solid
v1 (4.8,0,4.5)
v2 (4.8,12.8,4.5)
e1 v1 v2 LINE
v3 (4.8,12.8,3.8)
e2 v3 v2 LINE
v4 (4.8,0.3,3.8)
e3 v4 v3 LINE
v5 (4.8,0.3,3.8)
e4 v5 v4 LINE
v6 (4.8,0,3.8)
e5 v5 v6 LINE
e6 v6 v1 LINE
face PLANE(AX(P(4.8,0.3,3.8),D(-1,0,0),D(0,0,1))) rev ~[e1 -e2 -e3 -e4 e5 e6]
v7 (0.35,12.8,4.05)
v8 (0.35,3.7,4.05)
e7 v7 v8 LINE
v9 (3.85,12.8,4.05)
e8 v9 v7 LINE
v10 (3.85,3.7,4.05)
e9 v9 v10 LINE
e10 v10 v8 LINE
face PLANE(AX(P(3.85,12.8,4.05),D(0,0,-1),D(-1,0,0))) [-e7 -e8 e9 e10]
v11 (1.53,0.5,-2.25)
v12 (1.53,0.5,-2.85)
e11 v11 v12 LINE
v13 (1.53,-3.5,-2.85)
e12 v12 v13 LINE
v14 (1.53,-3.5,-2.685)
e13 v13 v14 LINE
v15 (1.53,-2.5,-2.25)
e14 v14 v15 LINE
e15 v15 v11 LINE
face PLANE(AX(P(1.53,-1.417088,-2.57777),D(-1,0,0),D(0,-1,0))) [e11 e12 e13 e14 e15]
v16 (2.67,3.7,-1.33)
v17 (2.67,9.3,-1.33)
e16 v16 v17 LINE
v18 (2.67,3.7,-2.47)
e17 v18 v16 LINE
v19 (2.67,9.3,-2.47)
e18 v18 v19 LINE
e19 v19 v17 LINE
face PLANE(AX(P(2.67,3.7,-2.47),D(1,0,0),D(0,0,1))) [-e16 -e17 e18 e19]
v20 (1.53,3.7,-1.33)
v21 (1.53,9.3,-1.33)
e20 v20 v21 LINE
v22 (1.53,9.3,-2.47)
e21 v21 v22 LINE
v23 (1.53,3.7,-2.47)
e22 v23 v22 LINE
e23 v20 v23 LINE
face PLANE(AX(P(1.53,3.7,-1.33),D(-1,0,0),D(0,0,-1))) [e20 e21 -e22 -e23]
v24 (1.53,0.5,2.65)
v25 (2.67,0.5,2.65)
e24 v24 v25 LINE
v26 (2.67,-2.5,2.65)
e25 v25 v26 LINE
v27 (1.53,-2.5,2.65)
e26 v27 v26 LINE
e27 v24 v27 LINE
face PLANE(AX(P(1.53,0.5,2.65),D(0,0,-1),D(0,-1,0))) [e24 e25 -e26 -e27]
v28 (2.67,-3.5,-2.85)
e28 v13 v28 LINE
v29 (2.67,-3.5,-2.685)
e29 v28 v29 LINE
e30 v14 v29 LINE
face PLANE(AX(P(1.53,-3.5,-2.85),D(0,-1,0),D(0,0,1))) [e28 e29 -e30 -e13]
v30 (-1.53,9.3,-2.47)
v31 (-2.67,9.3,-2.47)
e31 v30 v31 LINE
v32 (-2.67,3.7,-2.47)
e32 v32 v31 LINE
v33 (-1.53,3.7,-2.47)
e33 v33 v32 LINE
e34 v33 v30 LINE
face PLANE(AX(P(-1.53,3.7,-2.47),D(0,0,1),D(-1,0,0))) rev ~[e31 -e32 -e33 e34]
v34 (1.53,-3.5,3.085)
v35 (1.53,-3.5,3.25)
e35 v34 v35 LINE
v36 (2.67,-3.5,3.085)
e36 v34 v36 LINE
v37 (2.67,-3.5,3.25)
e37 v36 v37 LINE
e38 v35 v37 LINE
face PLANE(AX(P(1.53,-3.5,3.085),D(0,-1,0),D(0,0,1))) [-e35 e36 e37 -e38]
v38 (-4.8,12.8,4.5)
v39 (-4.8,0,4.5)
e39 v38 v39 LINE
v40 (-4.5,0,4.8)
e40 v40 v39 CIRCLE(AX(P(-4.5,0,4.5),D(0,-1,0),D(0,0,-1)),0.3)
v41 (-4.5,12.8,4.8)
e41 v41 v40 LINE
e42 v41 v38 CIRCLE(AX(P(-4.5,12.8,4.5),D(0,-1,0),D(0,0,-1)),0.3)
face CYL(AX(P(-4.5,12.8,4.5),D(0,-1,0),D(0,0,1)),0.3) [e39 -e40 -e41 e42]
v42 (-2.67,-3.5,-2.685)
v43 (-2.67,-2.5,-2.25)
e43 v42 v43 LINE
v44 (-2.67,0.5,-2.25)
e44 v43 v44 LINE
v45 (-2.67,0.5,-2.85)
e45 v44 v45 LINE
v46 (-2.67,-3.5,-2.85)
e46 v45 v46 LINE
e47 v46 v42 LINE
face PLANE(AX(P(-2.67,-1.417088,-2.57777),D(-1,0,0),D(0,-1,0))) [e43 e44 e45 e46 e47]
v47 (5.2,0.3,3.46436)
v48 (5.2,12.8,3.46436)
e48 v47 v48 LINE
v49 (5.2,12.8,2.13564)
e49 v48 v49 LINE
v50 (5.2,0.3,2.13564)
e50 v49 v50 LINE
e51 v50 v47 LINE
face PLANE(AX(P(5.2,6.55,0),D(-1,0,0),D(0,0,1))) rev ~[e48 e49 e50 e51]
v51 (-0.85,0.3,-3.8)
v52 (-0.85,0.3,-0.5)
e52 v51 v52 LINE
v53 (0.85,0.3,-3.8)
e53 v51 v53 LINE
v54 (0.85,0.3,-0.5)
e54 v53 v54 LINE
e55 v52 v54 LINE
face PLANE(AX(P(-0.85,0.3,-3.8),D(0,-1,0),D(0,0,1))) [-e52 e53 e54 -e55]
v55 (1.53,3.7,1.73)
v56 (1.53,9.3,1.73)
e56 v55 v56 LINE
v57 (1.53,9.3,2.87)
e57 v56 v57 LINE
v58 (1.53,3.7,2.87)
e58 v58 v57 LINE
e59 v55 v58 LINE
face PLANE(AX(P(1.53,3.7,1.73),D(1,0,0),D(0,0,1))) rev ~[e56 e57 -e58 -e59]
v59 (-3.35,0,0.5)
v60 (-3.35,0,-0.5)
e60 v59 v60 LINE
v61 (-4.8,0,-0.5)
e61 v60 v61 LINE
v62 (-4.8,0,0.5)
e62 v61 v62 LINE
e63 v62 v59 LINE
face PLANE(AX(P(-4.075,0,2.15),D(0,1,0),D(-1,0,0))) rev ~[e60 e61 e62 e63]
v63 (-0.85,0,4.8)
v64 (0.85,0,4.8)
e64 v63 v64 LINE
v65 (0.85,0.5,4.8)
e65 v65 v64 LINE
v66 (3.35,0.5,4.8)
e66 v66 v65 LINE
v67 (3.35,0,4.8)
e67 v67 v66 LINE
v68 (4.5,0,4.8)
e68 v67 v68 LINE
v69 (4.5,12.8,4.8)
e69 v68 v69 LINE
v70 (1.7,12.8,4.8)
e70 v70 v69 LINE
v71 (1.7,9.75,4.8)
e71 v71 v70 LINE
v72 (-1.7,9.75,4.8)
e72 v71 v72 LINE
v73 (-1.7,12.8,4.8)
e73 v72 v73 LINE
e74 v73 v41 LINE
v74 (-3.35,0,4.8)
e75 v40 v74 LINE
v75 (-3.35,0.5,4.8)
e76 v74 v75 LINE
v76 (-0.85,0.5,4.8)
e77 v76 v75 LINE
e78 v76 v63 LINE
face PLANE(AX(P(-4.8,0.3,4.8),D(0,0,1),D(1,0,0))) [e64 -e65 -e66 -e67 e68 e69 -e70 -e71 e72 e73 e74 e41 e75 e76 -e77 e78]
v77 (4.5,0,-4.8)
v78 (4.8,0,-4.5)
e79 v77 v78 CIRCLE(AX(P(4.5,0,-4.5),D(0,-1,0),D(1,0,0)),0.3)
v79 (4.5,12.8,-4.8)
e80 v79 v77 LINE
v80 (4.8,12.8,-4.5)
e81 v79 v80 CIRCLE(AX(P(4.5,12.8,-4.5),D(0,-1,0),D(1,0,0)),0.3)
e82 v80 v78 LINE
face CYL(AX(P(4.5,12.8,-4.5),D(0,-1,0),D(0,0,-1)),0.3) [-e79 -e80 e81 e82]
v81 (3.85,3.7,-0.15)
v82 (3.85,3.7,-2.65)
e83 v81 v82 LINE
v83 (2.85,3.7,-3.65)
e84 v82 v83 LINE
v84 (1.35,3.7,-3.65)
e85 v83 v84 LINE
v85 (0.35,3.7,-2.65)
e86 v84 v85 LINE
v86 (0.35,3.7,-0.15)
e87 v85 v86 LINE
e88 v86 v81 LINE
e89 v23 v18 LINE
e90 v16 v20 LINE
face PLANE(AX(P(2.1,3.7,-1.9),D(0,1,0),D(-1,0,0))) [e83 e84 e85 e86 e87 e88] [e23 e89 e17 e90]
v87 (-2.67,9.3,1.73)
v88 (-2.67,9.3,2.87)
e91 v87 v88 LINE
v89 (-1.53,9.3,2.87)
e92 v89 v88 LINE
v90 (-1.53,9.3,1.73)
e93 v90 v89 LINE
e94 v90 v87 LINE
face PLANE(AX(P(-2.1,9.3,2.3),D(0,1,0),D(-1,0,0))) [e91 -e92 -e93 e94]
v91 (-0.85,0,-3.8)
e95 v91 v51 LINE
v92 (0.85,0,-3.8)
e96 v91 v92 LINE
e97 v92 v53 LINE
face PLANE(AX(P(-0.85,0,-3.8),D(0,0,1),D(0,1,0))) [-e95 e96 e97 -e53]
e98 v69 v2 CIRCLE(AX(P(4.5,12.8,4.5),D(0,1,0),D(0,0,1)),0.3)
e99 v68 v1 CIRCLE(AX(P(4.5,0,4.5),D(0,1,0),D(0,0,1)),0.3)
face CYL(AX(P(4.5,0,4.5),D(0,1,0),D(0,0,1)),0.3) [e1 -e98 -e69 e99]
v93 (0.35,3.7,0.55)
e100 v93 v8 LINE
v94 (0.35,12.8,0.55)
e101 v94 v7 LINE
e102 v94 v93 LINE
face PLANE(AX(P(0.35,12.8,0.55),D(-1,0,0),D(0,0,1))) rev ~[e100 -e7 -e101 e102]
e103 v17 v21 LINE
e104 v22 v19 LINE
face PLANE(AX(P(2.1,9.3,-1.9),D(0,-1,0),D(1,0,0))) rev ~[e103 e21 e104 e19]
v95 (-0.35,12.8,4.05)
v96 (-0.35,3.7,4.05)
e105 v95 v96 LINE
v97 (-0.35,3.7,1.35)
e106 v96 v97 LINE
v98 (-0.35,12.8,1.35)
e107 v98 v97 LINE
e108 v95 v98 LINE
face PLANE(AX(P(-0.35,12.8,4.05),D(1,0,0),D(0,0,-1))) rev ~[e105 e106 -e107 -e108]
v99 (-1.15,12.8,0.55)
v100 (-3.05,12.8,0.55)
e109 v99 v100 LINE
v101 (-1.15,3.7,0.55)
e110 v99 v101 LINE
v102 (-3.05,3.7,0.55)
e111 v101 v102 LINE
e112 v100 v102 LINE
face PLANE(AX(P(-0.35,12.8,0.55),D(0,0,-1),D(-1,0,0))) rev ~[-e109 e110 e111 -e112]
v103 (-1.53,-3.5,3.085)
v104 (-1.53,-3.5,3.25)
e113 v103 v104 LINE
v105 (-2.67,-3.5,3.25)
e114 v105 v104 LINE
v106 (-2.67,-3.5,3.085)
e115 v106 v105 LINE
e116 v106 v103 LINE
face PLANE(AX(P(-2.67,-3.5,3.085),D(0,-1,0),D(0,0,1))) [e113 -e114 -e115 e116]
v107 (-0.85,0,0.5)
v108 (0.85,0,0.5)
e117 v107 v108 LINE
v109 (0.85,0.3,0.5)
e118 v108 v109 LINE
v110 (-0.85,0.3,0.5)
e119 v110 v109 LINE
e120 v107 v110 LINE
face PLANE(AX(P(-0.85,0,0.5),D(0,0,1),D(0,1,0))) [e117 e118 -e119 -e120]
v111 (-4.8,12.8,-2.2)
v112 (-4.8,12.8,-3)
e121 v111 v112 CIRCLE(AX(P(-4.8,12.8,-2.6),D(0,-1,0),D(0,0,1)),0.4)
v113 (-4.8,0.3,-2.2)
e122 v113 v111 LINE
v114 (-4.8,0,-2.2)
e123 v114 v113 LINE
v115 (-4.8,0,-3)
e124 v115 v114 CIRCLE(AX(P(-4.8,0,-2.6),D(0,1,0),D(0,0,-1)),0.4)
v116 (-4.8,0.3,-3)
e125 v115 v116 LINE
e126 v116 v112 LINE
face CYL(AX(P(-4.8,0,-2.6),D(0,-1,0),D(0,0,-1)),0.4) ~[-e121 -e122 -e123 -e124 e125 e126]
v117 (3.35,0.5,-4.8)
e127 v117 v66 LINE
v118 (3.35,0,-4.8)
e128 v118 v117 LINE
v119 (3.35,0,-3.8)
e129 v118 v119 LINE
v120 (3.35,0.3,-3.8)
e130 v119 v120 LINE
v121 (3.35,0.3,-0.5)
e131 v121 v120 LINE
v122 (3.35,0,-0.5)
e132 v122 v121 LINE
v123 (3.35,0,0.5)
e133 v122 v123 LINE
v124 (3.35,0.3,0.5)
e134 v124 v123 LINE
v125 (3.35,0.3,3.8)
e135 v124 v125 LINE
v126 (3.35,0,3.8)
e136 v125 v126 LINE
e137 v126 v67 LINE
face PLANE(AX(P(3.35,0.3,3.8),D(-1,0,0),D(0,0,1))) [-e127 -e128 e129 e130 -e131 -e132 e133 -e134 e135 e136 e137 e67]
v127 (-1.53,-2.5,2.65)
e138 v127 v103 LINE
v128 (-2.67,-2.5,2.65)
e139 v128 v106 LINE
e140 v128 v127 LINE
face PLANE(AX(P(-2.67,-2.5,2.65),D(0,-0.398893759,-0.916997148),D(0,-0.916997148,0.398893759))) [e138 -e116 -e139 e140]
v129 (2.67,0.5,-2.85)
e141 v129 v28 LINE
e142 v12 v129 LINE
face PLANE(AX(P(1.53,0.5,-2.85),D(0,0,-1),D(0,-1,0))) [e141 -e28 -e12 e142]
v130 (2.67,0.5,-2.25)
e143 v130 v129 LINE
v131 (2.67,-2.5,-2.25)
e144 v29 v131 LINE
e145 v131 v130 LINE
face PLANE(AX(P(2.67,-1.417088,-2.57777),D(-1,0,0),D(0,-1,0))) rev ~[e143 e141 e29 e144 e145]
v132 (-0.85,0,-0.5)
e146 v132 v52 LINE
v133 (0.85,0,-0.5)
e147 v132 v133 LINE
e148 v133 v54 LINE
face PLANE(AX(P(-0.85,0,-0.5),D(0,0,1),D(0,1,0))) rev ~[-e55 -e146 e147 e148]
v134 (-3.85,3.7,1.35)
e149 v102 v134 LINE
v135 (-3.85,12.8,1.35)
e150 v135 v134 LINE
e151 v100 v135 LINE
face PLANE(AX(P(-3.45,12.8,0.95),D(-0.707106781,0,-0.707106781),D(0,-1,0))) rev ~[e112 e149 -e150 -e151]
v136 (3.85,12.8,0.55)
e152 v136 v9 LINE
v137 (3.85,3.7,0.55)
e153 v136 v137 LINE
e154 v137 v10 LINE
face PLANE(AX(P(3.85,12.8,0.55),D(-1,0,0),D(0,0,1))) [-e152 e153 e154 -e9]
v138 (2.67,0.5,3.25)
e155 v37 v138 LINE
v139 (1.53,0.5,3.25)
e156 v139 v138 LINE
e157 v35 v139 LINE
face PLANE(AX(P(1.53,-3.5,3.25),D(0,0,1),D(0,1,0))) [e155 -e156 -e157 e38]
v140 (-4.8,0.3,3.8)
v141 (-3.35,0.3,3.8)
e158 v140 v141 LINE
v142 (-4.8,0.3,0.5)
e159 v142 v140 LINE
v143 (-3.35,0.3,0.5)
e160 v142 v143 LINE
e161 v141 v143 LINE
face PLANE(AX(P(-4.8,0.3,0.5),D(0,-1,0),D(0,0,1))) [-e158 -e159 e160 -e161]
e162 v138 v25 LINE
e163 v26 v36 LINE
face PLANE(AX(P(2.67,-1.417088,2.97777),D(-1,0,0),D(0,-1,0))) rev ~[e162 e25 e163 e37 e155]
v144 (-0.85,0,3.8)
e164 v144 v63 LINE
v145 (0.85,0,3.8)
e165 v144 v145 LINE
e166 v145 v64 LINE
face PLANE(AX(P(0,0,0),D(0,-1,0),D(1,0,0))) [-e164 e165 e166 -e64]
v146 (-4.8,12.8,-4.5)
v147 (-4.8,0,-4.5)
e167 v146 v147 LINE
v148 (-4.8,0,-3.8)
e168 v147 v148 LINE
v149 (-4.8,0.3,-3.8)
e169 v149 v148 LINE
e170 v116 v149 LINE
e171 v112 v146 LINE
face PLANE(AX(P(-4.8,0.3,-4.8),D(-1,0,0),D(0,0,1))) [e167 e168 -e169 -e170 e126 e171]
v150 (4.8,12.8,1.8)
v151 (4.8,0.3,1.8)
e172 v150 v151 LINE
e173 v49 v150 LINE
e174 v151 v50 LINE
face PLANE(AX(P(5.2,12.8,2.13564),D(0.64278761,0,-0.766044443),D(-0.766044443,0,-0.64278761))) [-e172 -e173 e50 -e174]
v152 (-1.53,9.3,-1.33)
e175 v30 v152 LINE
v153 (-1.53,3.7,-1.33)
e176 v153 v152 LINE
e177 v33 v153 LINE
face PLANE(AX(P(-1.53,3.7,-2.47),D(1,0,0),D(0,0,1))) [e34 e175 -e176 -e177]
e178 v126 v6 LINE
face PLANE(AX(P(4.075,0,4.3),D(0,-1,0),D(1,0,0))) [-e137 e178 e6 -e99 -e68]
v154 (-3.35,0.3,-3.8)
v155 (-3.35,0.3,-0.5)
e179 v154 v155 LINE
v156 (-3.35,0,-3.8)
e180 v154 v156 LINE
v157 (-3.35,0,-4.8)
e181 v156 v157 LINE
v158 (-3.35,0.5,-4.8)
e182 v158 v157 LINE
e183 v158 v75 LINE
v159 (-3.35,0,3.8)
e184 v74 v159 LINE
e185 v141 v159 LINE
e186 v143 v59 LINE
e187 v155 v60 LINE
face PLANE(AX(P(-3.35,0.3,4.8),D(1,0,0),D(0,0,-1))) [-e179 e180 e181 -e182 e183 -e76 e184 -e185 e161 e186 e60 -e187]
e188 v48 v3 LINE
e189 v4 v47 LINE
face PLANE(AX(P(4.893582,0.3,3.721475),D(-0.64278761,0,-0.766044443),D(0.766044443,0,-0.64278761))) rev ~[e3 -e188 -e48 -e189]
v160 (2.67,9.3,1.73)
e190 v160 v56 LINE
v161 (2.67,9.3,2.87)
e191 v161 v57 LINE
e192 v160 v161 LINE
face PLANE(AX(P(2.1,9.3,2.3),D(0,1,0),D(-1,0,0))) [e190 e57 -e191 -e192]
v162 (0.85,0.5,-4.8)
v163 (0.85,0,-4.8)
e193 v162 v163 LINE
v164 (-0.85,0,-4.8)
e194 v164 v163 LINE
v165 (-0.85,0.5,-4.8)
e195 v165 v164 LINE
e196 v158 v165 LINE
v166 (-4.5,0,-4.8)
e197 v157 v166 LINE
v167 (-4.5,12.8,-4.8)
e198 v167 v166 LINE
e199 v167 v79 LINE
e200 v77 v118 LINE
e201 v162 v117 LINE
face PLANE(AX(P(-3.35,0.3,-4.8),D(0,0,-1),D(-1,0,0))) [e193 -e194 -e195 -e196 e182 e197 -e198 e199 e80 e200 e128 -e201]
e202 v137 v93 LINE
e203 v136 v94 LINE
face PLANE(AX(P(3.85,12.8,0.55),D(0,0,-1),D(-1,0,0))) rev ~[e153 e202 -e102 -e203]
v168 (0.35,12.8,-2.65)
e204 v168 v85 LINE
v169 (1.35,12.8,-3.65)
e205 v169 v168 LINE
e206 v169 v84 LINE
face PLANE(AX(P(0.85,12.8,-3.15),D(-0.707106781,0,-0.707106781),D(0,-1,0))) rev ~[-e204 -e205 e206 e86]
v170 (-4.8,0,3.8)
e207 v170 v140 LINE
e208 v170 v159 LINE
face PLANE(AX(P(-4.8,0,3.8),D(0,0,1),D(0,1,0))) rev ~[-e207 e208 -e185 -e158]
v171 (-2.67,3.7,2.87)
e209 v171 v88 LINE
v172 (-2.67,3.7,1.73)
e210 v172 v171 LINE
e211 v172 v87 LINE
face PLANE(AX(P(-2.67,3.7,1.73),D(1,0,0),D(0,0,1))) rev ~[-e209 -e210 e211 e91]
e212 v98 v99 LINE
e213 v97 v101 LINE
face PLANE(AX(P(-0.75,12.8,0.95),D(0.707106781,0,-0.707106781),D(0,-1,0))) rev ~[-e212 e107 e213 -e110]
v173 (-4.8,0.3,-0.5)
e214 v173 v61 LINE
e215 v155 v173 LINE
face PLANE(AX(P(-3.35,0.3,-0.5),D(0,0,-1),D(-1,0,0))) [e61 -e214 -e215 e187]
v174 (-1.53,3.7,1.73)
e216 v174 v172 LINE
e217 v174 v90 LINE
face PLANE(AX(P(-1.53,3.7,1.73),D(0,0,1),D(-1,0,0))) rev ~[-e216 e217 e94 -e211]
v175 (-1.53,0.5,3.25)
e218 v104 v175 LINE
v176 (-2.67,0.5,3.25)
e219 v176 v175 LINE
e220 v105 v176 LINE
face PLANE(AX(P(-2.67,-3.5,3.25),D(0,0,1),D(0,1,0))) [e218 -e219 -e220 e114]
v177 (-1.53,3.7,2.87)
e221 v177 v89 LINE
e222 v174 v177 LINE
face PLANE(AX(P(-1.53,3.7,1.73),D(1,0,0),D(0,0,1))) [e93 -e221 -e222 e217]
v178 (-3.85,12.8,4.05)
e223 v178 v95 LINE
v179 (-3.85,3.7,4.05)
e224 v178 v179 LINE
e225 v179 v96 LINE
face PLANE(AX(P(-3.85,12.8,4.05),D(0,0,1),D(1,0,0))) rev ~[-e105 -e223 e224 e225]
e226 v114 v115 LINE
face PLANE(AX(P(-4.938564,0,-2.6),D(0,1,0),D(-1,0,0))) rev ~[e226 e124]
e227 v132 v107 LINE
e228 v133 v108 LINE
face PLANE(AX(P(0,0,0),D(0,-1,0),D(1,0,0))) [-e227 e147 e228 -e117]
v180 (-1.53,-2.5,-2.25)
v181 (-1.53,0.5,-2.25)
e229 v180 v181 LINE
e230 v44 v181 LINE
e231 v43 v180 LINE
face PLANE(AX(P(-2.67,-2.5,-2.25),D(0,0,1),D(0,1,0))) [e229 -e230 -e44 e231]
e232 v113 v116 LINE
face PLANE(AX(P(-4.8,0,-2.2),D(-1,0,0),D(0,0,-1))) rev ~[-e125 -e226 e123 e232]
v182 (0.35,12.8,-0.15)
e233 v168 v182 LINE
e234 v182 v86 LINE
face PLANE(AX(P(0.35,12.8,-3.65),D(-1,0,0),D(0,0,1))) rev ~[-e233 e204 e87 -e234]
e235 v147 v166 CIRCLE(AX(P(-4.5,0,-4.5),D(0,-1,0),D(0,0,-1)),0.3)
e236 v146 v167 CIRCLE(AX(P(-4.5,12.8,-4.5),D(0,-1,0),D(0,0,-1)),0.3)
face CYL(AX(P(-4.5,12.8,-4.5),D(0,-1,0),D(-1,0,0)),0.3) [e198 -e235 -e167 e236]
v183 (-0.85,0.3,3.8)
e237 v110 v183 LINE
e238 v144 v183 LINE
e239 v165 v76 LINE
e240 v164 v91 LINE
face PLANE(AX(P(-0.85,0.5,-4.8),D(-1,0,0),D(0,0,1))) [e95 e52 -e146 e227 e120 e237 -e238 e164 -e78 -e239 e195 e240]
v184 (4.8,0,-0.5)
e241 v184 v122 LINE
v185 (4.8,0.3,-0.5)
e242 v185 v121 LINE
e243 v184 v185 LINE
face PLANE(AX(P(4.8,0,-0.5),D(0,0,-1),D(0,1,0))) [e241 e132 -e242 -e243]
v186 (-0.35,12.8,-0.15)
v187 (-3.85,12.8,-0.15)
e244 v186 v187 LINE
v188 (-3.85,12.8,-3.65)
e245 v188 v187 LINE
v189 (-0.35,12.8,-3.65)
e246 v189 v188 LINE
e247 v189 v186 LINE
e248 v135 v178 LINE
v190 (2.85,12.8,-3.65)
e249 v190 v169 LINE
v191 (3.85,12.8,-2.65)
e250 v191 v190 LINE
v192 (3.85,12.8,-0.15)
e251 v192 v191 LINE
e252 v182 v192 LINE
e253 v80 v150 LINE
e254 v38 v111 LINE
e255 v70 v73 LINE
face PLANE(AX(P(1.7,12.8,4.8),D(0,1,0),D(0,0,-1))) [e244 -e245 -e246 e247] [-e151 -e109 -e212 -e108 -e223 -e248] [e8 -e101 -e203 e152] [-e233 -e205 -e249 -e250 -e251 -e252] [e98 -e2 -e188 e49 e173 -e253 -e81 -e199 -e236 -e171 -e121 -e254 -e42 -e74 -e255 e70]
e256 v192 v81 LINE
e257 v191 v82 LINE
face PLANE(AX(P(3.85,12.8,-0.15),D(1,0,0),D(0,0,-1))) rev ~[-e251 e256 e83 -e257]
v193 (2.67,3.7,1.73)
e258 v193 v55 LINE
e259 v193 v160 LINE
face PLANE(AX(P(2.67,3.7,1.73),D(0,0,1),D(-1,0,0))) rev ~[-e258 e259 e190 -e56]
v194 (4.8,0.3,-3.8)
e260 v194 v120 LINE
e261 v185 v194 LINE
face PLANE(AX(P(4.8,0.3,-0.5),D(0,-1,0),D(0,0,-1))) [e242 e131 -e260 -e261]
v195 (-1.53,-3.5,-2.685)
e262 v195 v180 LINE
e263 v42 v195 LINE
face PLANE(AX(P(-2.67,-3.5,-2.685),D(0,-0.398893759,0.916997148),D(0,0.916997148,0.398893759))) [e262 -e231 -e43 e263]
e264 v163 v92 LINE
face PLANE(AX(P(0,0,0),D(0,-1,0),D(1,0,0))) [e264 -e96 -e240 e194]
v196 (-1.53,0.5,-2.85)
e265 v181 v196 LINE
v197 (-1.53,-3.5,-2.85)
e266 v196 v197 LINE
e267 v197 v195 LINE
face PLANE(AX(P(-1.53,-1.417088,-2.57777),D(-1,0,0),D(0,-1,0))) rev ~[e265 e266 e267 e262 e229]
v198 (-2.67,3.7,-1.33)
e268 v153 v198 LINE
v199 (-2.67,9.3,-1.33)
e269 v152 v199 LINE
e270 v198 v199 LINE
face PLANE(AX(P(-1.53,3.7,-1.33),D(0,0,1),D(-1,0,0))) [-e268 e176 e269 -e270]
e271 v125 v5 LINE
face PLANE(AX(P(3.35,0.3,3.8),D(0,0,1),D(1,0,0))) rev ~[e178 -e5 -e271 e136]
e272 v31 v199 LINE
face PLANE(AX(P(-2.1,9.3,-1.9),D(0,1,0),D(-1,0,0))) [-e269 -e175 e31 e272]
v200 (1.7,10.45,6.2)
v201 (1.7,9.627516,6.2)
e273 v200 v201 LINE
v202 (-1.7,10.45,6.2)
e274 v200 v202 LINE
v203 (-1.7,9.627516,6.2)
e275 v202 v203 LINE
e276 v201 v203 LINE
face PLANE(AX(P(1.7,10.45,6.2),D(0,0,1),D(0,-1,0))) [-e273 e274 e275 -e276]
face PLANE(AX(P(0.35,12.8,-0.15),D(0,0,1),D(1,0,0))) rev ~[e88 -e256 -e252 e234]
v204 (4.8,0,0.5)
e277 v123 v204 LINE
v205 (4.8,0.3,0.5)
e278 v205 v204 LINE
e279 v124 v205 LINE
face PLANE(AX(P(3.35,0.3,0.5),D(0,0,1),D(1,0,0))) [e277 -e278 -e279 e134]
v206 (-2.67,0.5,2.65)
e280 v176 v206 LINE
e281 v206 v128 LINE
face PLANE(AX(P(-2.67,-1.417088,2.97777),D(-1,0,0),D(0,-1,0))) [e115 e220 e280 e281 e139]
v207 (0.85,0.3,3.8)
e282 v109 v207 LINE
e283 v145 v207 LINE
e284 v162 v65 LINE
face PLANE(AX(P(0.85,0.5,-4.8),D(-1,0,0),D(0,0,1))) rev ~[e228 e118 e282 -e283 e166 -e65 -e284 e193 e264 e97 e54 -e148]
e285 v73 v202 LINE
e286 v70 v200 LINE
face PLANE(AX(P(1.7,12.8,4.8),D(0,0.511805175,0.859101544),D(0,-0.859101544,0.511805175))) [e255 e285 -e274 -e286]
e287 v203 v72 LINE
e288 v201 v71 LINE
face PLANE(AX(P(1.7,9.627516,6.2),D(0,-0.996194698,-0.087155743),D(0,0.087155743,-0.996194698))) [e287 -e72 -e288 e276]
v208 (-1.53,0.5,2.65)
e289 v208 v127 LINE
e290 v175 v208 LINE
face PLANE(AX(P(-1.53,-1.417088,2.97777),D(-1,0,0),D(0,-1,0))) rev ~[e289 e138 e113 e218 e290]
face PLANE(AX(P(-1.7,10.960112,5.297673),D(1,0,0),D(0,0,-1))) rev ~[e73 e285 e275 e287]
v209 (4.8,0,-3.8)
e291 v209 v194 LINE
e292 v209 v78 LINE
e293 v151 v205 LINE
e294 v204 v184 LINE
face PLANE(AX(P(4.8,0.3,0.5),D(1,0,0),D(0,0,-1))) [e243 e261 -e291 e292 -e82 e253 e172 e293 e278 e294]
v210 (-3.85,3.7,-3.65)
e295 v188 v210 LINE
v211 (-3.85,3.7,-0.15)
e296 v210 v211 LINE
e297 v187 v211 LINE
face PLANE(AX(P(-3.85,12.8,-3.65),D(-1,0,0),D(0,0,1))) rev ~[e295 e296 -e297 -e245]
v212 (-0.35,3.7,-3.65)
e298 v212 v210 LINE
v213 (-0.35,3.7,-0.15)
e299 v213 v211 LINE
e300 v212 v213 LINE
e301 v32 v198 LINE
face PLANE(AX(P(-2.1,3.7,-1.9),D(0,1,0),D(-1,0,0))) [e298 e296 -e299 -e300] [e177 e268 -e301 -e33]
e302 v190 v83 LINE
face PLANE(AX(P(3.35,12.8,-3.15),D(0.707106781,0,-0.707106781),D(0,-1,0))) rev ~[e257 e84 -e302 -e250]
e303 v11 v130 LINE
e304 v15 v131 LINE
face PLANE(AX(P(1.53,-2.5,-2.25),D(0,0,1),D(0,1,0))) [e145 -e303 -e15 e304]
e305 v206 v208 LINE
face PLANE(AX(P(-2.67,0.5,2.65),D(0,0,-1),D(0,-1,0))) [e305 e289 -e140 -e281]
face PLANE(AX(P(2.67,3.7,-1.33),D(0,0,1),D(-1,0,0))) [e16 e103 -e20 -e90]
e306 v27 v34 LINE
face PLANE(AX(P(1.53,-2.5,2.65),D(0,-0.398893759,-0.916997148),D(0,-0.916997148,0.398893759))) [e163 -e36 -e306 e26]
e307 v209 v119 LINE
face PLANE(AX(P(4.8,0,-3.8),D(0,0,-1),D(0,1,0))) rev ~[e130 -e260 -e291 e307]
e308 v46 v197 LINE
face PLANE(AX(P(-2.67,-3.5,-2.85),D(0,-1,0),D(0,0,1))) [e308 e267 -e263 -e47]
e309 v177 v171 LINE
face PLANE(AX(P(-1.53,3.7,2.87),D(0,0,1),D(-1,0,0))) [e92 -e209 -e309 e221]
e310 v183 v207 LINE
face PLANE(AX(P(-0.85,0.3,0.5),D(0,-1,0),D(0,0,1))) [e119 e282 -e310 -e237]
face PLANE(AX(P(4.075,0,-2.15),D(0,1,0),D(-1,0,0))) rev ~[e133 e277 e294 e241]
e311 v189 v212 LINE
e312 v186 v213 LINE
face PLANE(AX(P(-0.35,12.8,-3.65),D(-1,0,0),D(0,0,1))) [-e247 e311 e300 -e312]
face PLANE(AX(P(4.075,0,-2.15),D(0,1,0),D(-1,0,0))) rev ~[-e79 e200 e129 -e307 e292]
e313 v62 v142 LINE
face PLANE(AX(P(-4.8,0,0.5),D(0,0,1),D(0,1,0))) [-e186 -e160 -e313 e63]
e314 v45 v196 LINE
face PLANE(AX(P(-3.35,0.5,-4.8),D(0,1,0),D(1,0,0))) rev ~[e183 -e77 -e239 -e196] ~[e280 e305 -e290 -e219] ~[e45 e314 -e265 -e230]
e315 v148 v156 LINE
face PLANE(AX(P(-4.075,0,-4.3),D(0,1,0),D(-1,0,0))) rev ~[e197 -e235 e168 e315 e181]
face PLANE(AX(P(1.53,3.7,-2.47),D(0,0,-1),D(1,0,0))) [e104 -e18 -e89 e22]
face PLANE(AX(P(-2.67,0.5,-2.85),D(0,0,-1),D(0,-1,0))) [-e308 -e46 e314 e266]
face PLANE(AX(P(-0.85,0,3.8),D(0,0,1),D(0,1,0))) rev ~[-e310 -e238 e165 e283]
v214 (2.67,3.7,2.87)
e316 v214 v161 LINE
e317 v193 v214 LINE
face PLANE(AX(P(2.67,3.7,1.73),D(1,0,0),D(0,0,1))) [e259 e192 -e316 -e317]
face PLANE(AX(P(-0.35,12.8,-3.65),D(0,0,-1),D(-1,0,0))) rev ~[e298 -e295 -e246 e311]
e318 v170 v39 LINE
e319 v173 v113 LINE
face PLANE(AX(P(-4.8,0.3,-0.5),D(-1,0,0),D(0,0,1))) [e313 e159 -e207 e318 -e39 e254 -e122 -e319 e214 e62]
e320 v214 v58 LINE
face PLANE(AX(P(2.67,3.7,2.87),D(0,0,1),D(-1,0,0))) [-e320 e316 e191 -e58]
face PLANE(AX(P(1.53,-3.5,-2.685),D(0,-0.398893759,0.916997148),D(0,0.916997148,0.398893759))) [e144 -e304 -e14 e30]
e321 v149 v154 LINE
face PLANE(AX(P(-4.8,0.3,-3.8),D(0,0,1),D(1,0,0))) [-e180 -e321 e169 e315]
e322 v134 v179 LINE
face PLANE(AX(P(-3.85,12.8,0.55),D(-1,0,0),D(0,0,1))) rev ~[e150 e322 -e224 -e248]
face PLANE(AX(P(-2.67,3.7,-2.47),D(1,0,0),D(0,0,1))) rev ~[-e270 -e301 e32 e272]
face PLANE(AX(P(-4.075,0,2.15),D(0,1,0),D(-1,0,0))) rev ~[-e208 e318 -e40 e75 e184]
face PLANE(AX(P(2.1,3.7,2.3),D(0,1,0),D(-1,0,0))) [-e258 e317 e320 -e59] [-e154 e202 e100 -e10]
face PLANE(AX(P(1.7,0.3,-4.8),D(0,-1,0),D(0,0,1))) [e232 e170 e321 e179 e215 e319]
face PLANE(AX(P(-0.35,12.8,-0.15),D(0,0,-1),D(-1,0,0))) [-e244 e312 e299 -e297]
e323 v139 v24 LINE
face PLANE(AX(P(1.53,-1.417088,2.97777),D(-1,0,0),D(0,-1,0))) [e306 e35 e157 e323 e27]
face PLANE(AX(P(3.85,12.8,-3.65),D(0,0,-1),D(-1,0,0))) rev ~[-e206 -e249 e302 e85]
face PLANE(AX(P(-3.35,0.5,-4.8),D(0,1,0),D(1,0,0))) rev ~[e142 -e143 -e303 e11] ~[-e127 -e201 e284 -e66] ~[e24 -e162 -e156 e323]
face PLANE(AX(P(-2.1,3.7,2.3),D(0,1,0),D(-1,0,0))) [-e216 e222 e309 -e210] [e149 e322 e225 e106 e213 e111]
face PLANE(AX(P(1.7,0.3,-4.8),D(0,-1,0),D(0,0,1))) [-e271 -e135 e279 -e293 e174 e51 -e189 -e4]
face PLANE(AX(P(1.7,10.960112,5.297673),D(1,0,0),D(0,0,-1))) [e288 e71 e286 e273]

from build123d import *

# Parameters (mm, degrees)
BOSS_EXTRUDE1_DEPTH  = 12.5
BOSS_EXTRUDE2_DEPTH  = 3.4
BOSS_EXTRUDE3_DEPTH  = 3.5000000000000004
SKETCH4_W            = 0.40000000000000124
SKETCH4_H            = 6.935639852470931
CUT_EXTRUDE1_DEPTH   = 15.890601062415177
CUT_EXTRUDE2_DEPTH   = 18.660124574872064
BOSS_EXTRUDE4_DEPTH  = 0.29999999999999993
SKETCH7_W            = 1.7000000000000002
SKETCH7_H            = 9.6
BOSS_EXTRUDE5_DEPTH  = 0.5000000000000003
BOSS_EXTRUDE6_DEPTH  = 0.3
CUT_EXTRUDE3_DEPTH   = 15.890601062415183
SKETCH10_W           = 1.4499999999999997
SKETCH10_H           = 1
BOSS_EXTRUDE7_DEPTH  = 0.3
BOSS_EXTRUDE8_DEPTH  = 0.3
BOSS_EXTRUDE9_START  = 0.3
BOSS_EXTRUDE9_DEPTH  = 0.3
SKETCH13_W           = 3.3000000000000003
SKETCH13_H           = 0.3
CUT_EXTRUDE4_DEPTH   = 16.455824144962317
SKETCH14_W           = 3.3
SKETCH14_H           = 0.3
CUT_EXTRUDE5_DEPTH   = 1.7
SKETCH15_W           = 3.3
SKETCH15_H           = 0.3
CUT_EXTRUDE6_DEPTH   = 18.38620142526826
CUT_EXTRUDE7_REACH   = 19.386
SKETCH16_W           = 3.3
SKETCH16_H           = 0.3
BOSS_EXTRUDE10_DEPTH = 1.14
BOSS_EXTRUDE11_DEPTH = 1.14
BOSS_EXTRUDE12_DEPTH = 1.14
BOSS_EXTRUDE13_DEPTH = 1.14
CUT_EXTRUDE8_DEPTH   = 9.1
SKETCH22_W           = 1.1399999999999995
SKETCH22_H           = 1.1400000000000003
BOSS_EXTRUDE14_DEPTH = 5.6000000000000005
SKETCH23_W           = 3.5
SKETCH23_H           = 3.4999999999999996
CUT_EXTRUDE9_DEPTH   = 9.1
SKETCH24_W           = 1.14
SKETCH24_H           = 1.1400000000000003
BOSS_EXTRUDE15_DEPTH = 5.6000000000000005
CUT_EXTRUDE10_DEPTH  = 9.1
BOSS_EXTRUDE16_DEPTH = 5.6000000000000005
SKETCH27_W           = 3.5
SKETCH27_H           = 3.4999999999999996
CUT_EXTRUDE11_DEPTH  = 9.1
SKETCH28_W           = 1.1399999999999995
SKETCH28_H           = 1.1400000000000006
BOSS_EXTRUDE17_DEPTH = 5.6000000000000005
DRAFT1_ANGLE         = -5.000000000000134
DRAFT2_ANGLE         = 39.99999999999766
CHAMFER1_SIZE        = 1.0000000000000708
CHAMFER2_SIZE        = 0.7999999999999999
FILLET1_R            = 0.3


with BuildPart() as part:
    # Sketch1 → Boss-Extrude1 (new body)
    with BuildSketch(Plane.XZ.offset(-0.3)):
        with BuildLine():
            Line((-4.8, -4.8), (1.7000000000000002, -4.8))
            Line((1.7000000000000002, -4.8), (1.7000000000000002, 4.800000000000001))
            Line((1.7000000000000002, 4.800000000000001), (-4.8, 4.8))
            Line((-4.8, 4.8), (-4.8, -2.2))
            ThreePointArc((-4.8, -2.2), (-5.2, -2.6000000000000005), (-4.8, -3.0000000000000004))
            Line((-4.8, -3.0000000000000004), (-4.8, -4.8))
        make_face()
    extrude(amount=-BOSS_EXTRUDE1_DEPTH)

    # Sketch2 → Boss-Extrude2 (add)
    with BuildSketch(Plane(origin=(1.7, 0, 0), x_dir=(0, 0, -1), z_dir=(1, 0, 0))):
        Polygon((-4.800000000000008, 12.800000000000006), (-6.200000000000001, 10.45), (-6.200000000000001, 9.627515871063899), (-4.800000000000008, 9.627515871063899), align=None)
    extrude(amount=-BOSS_EXTRUDE2_DEPTH)

    # Sketch3 → Boss-Extrude3 (add)
    with BuildSketch(Plane(origin=(1.7000000000000002, 0, 0), x_dir=(0, 0, -1), z_dir=(1, 0, 0))):
        Polygon((4.8, 0.29999999999999993), (-4.800000000000001, 0.29999999999999993), (-4.8, 12.8), (4.8, 12.8), align=None)
    extrude(amount=BOSS_EXTRUDE3_DEPTH)

    # Sketch4 → Cut-Extrude1 (cut, through all)
    with BuildSketch(Plane(origin=(0, 12.8, 0), x_dir=(-1, 0, 0), z_dir=(0, 1, 0))):
        with Locations((-5, -1.3321800737645344)):
            Rectangle(SKETCH4_W, SKETCH4_H)
    extrude(amount=-CUT_EXTRUDE1_DEPTH, mode=Mode.SUBTRACT)

    # Sketch5 → Cut-Extrude2 (cut, through all)
    with BuildSketch(Plane(origin=(0, 0, -4.8), x_dir=(-1, 0, 0), z_dir=(0, 0, -1))):
        Polygon((-3.35, 0.29999999999999993), (3.3499999999999996, 0.29999999999999993), (3.35, 0.5000000000000001), (-3.35, 0.5000000000000004), align=None)
    extrude(amount=-CUT_EXTRUDE2_DEPTH, mode=Mode.SUBTRACT)

    # Sketch6 → Boss-Extrude4 (add)
    with BuildSketch(Plane.XZ.offset(-0.3)):
        Polygon((4.8, -4.8), (3.35, -4.8), (3.35, 0.49999999999999956), (4.8, 0.5), align=None)
    extrude(amount=BOSS_EXTRUDE4_DEPTH)

    # Sketch7 → Boss-Extrude5 (add)
    with BuildSketch(Plane.XZ.offset(-0.5000000000000002)):
        Rectangle(SKETCH7_W, SKETCH7_H)
    extrude(amount=BOSS_EXTRUDE5_DEPTH)

    # Sketch8 → Boss-Extrude6 (add)
    with BuildSketch(Plane.XZ.offset(-0.3)):
        Polygon((-4.8, -4.8), (-4.8, -3.8), (-3.3499999999999996, -3.8), (-3.35, -4.8), align=None)
    extrude(amount=BOSS_EXTRUDE6_DEPTH)

    # Sketch9 → Cut-Extrude3 (cut, through all)
    with BuildSketch(Plane.XZ.offset(-0.3)):
        Polygon((5.200000000000001, 4.800000000000001), (4.8, 4.800000000000001), (4.8, 3.464360147529), (5.200000000000001, 3.4643601475289993), align=None)
    extrude(amount=-CUT_EXTRUDE3_DEPTH, mode=Mode.SUBTRACT)

    # Sketch10 → Boss-Extrude7 (add)
    with BuildSketch(Plane.XZ.offset(-0.3)):
        with Locations((4.075, 4.3)):
            Rectangle(SKETCH10_W, SKETCH10_H)
    extrude(amount=BOSS_EXTRUDE7_DEPTH)

    # Sketch11 → Boss-Extrude8 (add)
    with BuildSketch(Plane.XZ.offset(-0.3)):
        Polygon((-4.8, 4.8), (-3.3499999999999996, 4.8), (-3.35, -0.49999999999999956), (-4.8, -0.5), align=None)
    extrude(amount=BOSS_EXTRUDE8_DEPTH)

    # Sketch12 → Boss-Extrude9 (add)
    with BuildSketch(Plane.XZ.offset(-0.3).offset(BOSS_EXTRUDE9_START)):
        with BuildLine():
            Line((-4.8, -2.2), (-4.8, -3.0000000000000004))
            ThreePointArc((-4.8, -3.0000000000000004), (-5.199999999999999, -2.6000000000000005), (-4.8, -2.2))
        make_face()
    extrude(amount=-BOSS_EXTRUDE9_DEPTH)

    # Sketch13 → Cut-Extrude4 (cut, through all)
    with BuildSketch(Plane.ZY.offset(0.8500000000000001)):
        with Locations((2.15, 0.15000000000000005)):
            Rectangle(SKETCH13_W, SKETCH13_H)
    extrude(amount=-CUT_EXTRUDE4_DEPTH, mode=Mode.SUBTRACT)

    # Sketch14 → Cut-Extrude5 (cut)
    with BuildSketch(Plane.ZY.offset(0.8500000000000001)):
        with Locations((-2.15, 0.15000000000000005)):
            Rectangle(SKETCH14_W, SKETCH14_H)
    extrude(amount=-CUT_EXTRUDE5_DEPTH, mode=Mode.SUBTRACT)

    # Sketch15 → Cut-Extrude6 (cut, through all)
    with BuildSketch(Plane.ZY.offset(4.8)):
        with Locations((2.15, 0.15)):
            Rectangle(SKETCH15_W, SKETCH15_H)
    extrude(amount=-CUT_EXTRUDE6_DEPTH, mode=Mode.SUBTRACT)

    # Sketch16 → Cut-Extrude7 (cut, up to next)
    with BuildSketch(Plane(origin=(4.8, 0, 0), x_dir=(0, 0, -1), z_dir=(1, 0, 0)), mode=Mode.PRIVATE) as cut_extrude7_sk1:
        with Locations((2.15, 0.15)):
            Rectangle(SKETCH16_W, SKETCH16_H)
    cut_extrude7_tool1 = extrude(cut_extrude7_sk1.sketch, amount=-CUT_EXTRUDE7_REACH, mode=Mode.PRIVATE) & part.part
    add(cut_extrude7_tool1.solids().sort_by_distance((4.8, 0.15, -2.15))[0], mode=Mode.SUBTRACT)

    # Sketch17 → Boss-Extrude10 (add)
    with BuildSketch(Plane(origin=(1.53, 0, 0), x_dir=(0, -1, 0), z_dir=(-1, 0, 0))):
        Polygon((2.500000000000003, 2.6499999999999937), (3.5, 3.085), (3.5, 3.2500000000000004), (-0.5, 3.2500000000000004), (-0.5, 2.6500000000000004), align=None)
    extrude(amount=-BOSS_EXTRUDE10_DEPTH)

    # Sketch18 → Boss-Extrude11 (add)
    with BuildSketch(Plane(origin=(1.53, 0, 0), x_dir=(0, -1, 0), z_dir=(-1, 0, 0))):
        Polygon((3.5, -2.85), (3.4999999999999987, -2.685000000000003), (2.5000000000000004, -2.2500000000000004), (-0.5, -2.2500000000000004), (-0.5, -2.85), align=None)
    extrude(amount=-BOSS_EXTRUDE11_DEPTH)

    # Sketch19 → Boss-Extrude12 (add)
    with BuildSketch(Plane(origin=(-2.6700000000000004, 0, 0), x_dir=(0, -1, 0), z_dir=(-1, 0, 0))):
        Polygon((2.500000000000003, 2.6499999999999937), (3.5, 3.085), (3.5, 3.2500000000000004), (-0.5, 3.2500000000000004), (-0.5, 2.6500000000000004), align=None)
    extrude(amount=-BOSS_EXTRUDE12_DEPTH)

    # Sketch20 → Boss-Extrude13 (add)
    with BuildSketch(Plane(origin=(-2.6700000000000004, 0, 0), x_dir=(0, -1, 0), z_dir=(-1, 0, 0))):
        Polygon((3.5, -2.85), (3.4999999999999987, -2.685000000000003), (2.5000000000000004, -2.2500000000000004), (-0.5, -2.2500000000000004), (-0.5, -2.85), align=None)
    extrude(amount=-BOSS_EXTRUDE13_DEPTH)

    # Sketch21 → Cut-Extrude8 (cut)
    with BuildSketch(Plane(origin=(0, 12.8, 0), x_dir=(-1, 0, 0), z_dir=(0, 1, 0))):
        Polygon((0.3499999999999999, 4.05), (0.34999999999999964, 0.5500000000000002), (3.85, 0.5500000000000002), (3.85, 4.05), align=None)
    extrude(amount=-CUT_EXTRUDE8_DEPTH, mode=Mode.SUBTRACT)

    # Sketch22 → Boss-Extrude14 (add)
    with BuildSketch(Plane(origin=(0, 3.7, 0), x_dir=(-1, 0, 0), z_dir=(0, 1, 0))):
        with Locations((2.0999999999999996, 2.3)):
            Rectangle(SKETCH22_W, SKETCH22_H)
    extrude(amount=BOSS_EXTRUDE14_DEPTH)

    # Sketch23 → Cut-Extrude9 (cut)
    with BuildSketch(Plane(origin=(0, 12.8, 0), x_dir=(-1, 0, 0), z_dir=(0, 1, 0))):
        with Locations((-2.1, 2.3)):
            Rectangle(SKETCH23_W, SKETCH23_H)
    extrude(amount=-CUT_EXTRUDE9_DEPTH, mode=Mode.SUBTRACT)

    # Sketch24 → Boss-Extrude15 (add)
    with BuildSketch(Plane(origin=(0, 3.7, 0), x_dir=(-1, 0, 0), z_dir=(0, 1, 0))):
        with Locations((-2.1, 2.3)):
            Rectangle(SKETCH24_W, SKETCH24_H)
    extrude(amount=BOSS_EXTRUDE15_DEPTH)

    # Sketch25 → Cut-Extrude10 (cut)
    with BuildSketch(Plane(origin=(0, 12.8, 0), x_dir=(-1, 0, 0), z_dir=(0, 1, 0))):
        Polygon((-3.85, -0.14999999999999997), (-3.85, -3.6499999999999995), (-0.3499999999999998, -3.6499999999999995), (-0.3499999999999999, -0.14999999999999997), align=None)
    extrude(amount=-CUT_EXTRUDE10_DEPTH, mode=Mode.SUBTRACT)

    # Sketch26 → Boss-Extrude16 (add)
    with BuildSketch(Plane(origin=(0, 3.7, 0), x_dir=(-1, 0, 0), z_dir=(0, 1, 0))):
        Polygon((-2.67, -2.4700000000000006), (-2.67, -1.3300000000000003), (-1.53, -1.33), (-1.53, -2.4700000000000006), align=None)
    extrude(amount=BOSS_EXTRUDE16_DEPTH)

    # Sketch27 → Cut-Extrude11 (cut)
    with BuildSketch(Plane(origin=(0, 12.8, 0), x_dir=(-1, 0, 0), z_dir=(0, 1, 0))):
        with Locations((2.1, -1.8999999999999997)):
            Rectangle(SKETCH27_W, SKETCH27_H)
    extrude(amount=-CUT_EXTRUDE11_DEPTH, mode=Mode.SUBTRACT)

    # Sketch28 → Boss-Extrude17 (add)
    with BuildSketch(Plane(origin=(0, 3.7, 0), x_dir=(-1, 0, 0), z_dir=(0, 1, 0))):
        with Locations((2.0999999999999996, -1.9000000000000004)):
            Rectangle(SKETCH28_W, SKETCH28_H)
    extrude(amount=BOSS_EXTRUDE17_DEPTH)

    # Draft1
    draft1_faces = [part.faces().sort_by_distance(p)[0] for p in [
        (-5e-17, 9.627515871063899, 5.500000000000004),
    ]]
    draft(draft1_faces, Plane(origin=(-1.7, 10.45, 6.200000000000001), x_dir=(1, 0, 0), z_dir=(0, 0, 1)), DRAFT1_ANGLE)

    # Draft2
    draft2_faces = [part.faces().sort_by_distance(p)[0] for p in [
        (5.000000000000001, 6.550000000000001, 3.4643601475290002),
        (5.000000000000001, 6.550000000000001, 2.135639852470931),
    ]]
    draft(draft2_faces, Plane(origin=(5.200000000000001, 0, 0), x_dir=(0, 0, 1), z_dir=(1, 0, 0)), DRAFT2_ANGLE)

    # Chamfer1
    chamfer1_edges = [part.edges().sort_by_distance(p)[0] for p in [
        (0.3499999999999998, 8.25, -3.6499999999999995),
        (3.85, 8.25, -3.6499999999999995),
    ]]
    chamfer(chamfer1_edges, length=CHAMFER1_SIZE)

    # Chamfer2
    chamfer2_edges = [part.edges().sort_by_distance(p)[0] for p in [
        (-3.85, 8.25, 0.5500000000000002),
        (-0.34999999999999964, 8.25, 0.5500000000000002),
    ]]
    chamfer(chamfer2_edges, length=CHAMFER2_SIZE)

    # Fillet1
    fillet1_edges = [part.edges().sort_by_distance(p)[0] for p in [
        (-4.8, 6.4, 4.8),
        (-4.8, 6.4, -4.8),
        (4.8, 6.4, 4.800000000000001),
        (4.8, 6.4, -4.8),
    ]]
    fillet(fillet1_edges, radius=FILLET1_R)


solid = part.part
